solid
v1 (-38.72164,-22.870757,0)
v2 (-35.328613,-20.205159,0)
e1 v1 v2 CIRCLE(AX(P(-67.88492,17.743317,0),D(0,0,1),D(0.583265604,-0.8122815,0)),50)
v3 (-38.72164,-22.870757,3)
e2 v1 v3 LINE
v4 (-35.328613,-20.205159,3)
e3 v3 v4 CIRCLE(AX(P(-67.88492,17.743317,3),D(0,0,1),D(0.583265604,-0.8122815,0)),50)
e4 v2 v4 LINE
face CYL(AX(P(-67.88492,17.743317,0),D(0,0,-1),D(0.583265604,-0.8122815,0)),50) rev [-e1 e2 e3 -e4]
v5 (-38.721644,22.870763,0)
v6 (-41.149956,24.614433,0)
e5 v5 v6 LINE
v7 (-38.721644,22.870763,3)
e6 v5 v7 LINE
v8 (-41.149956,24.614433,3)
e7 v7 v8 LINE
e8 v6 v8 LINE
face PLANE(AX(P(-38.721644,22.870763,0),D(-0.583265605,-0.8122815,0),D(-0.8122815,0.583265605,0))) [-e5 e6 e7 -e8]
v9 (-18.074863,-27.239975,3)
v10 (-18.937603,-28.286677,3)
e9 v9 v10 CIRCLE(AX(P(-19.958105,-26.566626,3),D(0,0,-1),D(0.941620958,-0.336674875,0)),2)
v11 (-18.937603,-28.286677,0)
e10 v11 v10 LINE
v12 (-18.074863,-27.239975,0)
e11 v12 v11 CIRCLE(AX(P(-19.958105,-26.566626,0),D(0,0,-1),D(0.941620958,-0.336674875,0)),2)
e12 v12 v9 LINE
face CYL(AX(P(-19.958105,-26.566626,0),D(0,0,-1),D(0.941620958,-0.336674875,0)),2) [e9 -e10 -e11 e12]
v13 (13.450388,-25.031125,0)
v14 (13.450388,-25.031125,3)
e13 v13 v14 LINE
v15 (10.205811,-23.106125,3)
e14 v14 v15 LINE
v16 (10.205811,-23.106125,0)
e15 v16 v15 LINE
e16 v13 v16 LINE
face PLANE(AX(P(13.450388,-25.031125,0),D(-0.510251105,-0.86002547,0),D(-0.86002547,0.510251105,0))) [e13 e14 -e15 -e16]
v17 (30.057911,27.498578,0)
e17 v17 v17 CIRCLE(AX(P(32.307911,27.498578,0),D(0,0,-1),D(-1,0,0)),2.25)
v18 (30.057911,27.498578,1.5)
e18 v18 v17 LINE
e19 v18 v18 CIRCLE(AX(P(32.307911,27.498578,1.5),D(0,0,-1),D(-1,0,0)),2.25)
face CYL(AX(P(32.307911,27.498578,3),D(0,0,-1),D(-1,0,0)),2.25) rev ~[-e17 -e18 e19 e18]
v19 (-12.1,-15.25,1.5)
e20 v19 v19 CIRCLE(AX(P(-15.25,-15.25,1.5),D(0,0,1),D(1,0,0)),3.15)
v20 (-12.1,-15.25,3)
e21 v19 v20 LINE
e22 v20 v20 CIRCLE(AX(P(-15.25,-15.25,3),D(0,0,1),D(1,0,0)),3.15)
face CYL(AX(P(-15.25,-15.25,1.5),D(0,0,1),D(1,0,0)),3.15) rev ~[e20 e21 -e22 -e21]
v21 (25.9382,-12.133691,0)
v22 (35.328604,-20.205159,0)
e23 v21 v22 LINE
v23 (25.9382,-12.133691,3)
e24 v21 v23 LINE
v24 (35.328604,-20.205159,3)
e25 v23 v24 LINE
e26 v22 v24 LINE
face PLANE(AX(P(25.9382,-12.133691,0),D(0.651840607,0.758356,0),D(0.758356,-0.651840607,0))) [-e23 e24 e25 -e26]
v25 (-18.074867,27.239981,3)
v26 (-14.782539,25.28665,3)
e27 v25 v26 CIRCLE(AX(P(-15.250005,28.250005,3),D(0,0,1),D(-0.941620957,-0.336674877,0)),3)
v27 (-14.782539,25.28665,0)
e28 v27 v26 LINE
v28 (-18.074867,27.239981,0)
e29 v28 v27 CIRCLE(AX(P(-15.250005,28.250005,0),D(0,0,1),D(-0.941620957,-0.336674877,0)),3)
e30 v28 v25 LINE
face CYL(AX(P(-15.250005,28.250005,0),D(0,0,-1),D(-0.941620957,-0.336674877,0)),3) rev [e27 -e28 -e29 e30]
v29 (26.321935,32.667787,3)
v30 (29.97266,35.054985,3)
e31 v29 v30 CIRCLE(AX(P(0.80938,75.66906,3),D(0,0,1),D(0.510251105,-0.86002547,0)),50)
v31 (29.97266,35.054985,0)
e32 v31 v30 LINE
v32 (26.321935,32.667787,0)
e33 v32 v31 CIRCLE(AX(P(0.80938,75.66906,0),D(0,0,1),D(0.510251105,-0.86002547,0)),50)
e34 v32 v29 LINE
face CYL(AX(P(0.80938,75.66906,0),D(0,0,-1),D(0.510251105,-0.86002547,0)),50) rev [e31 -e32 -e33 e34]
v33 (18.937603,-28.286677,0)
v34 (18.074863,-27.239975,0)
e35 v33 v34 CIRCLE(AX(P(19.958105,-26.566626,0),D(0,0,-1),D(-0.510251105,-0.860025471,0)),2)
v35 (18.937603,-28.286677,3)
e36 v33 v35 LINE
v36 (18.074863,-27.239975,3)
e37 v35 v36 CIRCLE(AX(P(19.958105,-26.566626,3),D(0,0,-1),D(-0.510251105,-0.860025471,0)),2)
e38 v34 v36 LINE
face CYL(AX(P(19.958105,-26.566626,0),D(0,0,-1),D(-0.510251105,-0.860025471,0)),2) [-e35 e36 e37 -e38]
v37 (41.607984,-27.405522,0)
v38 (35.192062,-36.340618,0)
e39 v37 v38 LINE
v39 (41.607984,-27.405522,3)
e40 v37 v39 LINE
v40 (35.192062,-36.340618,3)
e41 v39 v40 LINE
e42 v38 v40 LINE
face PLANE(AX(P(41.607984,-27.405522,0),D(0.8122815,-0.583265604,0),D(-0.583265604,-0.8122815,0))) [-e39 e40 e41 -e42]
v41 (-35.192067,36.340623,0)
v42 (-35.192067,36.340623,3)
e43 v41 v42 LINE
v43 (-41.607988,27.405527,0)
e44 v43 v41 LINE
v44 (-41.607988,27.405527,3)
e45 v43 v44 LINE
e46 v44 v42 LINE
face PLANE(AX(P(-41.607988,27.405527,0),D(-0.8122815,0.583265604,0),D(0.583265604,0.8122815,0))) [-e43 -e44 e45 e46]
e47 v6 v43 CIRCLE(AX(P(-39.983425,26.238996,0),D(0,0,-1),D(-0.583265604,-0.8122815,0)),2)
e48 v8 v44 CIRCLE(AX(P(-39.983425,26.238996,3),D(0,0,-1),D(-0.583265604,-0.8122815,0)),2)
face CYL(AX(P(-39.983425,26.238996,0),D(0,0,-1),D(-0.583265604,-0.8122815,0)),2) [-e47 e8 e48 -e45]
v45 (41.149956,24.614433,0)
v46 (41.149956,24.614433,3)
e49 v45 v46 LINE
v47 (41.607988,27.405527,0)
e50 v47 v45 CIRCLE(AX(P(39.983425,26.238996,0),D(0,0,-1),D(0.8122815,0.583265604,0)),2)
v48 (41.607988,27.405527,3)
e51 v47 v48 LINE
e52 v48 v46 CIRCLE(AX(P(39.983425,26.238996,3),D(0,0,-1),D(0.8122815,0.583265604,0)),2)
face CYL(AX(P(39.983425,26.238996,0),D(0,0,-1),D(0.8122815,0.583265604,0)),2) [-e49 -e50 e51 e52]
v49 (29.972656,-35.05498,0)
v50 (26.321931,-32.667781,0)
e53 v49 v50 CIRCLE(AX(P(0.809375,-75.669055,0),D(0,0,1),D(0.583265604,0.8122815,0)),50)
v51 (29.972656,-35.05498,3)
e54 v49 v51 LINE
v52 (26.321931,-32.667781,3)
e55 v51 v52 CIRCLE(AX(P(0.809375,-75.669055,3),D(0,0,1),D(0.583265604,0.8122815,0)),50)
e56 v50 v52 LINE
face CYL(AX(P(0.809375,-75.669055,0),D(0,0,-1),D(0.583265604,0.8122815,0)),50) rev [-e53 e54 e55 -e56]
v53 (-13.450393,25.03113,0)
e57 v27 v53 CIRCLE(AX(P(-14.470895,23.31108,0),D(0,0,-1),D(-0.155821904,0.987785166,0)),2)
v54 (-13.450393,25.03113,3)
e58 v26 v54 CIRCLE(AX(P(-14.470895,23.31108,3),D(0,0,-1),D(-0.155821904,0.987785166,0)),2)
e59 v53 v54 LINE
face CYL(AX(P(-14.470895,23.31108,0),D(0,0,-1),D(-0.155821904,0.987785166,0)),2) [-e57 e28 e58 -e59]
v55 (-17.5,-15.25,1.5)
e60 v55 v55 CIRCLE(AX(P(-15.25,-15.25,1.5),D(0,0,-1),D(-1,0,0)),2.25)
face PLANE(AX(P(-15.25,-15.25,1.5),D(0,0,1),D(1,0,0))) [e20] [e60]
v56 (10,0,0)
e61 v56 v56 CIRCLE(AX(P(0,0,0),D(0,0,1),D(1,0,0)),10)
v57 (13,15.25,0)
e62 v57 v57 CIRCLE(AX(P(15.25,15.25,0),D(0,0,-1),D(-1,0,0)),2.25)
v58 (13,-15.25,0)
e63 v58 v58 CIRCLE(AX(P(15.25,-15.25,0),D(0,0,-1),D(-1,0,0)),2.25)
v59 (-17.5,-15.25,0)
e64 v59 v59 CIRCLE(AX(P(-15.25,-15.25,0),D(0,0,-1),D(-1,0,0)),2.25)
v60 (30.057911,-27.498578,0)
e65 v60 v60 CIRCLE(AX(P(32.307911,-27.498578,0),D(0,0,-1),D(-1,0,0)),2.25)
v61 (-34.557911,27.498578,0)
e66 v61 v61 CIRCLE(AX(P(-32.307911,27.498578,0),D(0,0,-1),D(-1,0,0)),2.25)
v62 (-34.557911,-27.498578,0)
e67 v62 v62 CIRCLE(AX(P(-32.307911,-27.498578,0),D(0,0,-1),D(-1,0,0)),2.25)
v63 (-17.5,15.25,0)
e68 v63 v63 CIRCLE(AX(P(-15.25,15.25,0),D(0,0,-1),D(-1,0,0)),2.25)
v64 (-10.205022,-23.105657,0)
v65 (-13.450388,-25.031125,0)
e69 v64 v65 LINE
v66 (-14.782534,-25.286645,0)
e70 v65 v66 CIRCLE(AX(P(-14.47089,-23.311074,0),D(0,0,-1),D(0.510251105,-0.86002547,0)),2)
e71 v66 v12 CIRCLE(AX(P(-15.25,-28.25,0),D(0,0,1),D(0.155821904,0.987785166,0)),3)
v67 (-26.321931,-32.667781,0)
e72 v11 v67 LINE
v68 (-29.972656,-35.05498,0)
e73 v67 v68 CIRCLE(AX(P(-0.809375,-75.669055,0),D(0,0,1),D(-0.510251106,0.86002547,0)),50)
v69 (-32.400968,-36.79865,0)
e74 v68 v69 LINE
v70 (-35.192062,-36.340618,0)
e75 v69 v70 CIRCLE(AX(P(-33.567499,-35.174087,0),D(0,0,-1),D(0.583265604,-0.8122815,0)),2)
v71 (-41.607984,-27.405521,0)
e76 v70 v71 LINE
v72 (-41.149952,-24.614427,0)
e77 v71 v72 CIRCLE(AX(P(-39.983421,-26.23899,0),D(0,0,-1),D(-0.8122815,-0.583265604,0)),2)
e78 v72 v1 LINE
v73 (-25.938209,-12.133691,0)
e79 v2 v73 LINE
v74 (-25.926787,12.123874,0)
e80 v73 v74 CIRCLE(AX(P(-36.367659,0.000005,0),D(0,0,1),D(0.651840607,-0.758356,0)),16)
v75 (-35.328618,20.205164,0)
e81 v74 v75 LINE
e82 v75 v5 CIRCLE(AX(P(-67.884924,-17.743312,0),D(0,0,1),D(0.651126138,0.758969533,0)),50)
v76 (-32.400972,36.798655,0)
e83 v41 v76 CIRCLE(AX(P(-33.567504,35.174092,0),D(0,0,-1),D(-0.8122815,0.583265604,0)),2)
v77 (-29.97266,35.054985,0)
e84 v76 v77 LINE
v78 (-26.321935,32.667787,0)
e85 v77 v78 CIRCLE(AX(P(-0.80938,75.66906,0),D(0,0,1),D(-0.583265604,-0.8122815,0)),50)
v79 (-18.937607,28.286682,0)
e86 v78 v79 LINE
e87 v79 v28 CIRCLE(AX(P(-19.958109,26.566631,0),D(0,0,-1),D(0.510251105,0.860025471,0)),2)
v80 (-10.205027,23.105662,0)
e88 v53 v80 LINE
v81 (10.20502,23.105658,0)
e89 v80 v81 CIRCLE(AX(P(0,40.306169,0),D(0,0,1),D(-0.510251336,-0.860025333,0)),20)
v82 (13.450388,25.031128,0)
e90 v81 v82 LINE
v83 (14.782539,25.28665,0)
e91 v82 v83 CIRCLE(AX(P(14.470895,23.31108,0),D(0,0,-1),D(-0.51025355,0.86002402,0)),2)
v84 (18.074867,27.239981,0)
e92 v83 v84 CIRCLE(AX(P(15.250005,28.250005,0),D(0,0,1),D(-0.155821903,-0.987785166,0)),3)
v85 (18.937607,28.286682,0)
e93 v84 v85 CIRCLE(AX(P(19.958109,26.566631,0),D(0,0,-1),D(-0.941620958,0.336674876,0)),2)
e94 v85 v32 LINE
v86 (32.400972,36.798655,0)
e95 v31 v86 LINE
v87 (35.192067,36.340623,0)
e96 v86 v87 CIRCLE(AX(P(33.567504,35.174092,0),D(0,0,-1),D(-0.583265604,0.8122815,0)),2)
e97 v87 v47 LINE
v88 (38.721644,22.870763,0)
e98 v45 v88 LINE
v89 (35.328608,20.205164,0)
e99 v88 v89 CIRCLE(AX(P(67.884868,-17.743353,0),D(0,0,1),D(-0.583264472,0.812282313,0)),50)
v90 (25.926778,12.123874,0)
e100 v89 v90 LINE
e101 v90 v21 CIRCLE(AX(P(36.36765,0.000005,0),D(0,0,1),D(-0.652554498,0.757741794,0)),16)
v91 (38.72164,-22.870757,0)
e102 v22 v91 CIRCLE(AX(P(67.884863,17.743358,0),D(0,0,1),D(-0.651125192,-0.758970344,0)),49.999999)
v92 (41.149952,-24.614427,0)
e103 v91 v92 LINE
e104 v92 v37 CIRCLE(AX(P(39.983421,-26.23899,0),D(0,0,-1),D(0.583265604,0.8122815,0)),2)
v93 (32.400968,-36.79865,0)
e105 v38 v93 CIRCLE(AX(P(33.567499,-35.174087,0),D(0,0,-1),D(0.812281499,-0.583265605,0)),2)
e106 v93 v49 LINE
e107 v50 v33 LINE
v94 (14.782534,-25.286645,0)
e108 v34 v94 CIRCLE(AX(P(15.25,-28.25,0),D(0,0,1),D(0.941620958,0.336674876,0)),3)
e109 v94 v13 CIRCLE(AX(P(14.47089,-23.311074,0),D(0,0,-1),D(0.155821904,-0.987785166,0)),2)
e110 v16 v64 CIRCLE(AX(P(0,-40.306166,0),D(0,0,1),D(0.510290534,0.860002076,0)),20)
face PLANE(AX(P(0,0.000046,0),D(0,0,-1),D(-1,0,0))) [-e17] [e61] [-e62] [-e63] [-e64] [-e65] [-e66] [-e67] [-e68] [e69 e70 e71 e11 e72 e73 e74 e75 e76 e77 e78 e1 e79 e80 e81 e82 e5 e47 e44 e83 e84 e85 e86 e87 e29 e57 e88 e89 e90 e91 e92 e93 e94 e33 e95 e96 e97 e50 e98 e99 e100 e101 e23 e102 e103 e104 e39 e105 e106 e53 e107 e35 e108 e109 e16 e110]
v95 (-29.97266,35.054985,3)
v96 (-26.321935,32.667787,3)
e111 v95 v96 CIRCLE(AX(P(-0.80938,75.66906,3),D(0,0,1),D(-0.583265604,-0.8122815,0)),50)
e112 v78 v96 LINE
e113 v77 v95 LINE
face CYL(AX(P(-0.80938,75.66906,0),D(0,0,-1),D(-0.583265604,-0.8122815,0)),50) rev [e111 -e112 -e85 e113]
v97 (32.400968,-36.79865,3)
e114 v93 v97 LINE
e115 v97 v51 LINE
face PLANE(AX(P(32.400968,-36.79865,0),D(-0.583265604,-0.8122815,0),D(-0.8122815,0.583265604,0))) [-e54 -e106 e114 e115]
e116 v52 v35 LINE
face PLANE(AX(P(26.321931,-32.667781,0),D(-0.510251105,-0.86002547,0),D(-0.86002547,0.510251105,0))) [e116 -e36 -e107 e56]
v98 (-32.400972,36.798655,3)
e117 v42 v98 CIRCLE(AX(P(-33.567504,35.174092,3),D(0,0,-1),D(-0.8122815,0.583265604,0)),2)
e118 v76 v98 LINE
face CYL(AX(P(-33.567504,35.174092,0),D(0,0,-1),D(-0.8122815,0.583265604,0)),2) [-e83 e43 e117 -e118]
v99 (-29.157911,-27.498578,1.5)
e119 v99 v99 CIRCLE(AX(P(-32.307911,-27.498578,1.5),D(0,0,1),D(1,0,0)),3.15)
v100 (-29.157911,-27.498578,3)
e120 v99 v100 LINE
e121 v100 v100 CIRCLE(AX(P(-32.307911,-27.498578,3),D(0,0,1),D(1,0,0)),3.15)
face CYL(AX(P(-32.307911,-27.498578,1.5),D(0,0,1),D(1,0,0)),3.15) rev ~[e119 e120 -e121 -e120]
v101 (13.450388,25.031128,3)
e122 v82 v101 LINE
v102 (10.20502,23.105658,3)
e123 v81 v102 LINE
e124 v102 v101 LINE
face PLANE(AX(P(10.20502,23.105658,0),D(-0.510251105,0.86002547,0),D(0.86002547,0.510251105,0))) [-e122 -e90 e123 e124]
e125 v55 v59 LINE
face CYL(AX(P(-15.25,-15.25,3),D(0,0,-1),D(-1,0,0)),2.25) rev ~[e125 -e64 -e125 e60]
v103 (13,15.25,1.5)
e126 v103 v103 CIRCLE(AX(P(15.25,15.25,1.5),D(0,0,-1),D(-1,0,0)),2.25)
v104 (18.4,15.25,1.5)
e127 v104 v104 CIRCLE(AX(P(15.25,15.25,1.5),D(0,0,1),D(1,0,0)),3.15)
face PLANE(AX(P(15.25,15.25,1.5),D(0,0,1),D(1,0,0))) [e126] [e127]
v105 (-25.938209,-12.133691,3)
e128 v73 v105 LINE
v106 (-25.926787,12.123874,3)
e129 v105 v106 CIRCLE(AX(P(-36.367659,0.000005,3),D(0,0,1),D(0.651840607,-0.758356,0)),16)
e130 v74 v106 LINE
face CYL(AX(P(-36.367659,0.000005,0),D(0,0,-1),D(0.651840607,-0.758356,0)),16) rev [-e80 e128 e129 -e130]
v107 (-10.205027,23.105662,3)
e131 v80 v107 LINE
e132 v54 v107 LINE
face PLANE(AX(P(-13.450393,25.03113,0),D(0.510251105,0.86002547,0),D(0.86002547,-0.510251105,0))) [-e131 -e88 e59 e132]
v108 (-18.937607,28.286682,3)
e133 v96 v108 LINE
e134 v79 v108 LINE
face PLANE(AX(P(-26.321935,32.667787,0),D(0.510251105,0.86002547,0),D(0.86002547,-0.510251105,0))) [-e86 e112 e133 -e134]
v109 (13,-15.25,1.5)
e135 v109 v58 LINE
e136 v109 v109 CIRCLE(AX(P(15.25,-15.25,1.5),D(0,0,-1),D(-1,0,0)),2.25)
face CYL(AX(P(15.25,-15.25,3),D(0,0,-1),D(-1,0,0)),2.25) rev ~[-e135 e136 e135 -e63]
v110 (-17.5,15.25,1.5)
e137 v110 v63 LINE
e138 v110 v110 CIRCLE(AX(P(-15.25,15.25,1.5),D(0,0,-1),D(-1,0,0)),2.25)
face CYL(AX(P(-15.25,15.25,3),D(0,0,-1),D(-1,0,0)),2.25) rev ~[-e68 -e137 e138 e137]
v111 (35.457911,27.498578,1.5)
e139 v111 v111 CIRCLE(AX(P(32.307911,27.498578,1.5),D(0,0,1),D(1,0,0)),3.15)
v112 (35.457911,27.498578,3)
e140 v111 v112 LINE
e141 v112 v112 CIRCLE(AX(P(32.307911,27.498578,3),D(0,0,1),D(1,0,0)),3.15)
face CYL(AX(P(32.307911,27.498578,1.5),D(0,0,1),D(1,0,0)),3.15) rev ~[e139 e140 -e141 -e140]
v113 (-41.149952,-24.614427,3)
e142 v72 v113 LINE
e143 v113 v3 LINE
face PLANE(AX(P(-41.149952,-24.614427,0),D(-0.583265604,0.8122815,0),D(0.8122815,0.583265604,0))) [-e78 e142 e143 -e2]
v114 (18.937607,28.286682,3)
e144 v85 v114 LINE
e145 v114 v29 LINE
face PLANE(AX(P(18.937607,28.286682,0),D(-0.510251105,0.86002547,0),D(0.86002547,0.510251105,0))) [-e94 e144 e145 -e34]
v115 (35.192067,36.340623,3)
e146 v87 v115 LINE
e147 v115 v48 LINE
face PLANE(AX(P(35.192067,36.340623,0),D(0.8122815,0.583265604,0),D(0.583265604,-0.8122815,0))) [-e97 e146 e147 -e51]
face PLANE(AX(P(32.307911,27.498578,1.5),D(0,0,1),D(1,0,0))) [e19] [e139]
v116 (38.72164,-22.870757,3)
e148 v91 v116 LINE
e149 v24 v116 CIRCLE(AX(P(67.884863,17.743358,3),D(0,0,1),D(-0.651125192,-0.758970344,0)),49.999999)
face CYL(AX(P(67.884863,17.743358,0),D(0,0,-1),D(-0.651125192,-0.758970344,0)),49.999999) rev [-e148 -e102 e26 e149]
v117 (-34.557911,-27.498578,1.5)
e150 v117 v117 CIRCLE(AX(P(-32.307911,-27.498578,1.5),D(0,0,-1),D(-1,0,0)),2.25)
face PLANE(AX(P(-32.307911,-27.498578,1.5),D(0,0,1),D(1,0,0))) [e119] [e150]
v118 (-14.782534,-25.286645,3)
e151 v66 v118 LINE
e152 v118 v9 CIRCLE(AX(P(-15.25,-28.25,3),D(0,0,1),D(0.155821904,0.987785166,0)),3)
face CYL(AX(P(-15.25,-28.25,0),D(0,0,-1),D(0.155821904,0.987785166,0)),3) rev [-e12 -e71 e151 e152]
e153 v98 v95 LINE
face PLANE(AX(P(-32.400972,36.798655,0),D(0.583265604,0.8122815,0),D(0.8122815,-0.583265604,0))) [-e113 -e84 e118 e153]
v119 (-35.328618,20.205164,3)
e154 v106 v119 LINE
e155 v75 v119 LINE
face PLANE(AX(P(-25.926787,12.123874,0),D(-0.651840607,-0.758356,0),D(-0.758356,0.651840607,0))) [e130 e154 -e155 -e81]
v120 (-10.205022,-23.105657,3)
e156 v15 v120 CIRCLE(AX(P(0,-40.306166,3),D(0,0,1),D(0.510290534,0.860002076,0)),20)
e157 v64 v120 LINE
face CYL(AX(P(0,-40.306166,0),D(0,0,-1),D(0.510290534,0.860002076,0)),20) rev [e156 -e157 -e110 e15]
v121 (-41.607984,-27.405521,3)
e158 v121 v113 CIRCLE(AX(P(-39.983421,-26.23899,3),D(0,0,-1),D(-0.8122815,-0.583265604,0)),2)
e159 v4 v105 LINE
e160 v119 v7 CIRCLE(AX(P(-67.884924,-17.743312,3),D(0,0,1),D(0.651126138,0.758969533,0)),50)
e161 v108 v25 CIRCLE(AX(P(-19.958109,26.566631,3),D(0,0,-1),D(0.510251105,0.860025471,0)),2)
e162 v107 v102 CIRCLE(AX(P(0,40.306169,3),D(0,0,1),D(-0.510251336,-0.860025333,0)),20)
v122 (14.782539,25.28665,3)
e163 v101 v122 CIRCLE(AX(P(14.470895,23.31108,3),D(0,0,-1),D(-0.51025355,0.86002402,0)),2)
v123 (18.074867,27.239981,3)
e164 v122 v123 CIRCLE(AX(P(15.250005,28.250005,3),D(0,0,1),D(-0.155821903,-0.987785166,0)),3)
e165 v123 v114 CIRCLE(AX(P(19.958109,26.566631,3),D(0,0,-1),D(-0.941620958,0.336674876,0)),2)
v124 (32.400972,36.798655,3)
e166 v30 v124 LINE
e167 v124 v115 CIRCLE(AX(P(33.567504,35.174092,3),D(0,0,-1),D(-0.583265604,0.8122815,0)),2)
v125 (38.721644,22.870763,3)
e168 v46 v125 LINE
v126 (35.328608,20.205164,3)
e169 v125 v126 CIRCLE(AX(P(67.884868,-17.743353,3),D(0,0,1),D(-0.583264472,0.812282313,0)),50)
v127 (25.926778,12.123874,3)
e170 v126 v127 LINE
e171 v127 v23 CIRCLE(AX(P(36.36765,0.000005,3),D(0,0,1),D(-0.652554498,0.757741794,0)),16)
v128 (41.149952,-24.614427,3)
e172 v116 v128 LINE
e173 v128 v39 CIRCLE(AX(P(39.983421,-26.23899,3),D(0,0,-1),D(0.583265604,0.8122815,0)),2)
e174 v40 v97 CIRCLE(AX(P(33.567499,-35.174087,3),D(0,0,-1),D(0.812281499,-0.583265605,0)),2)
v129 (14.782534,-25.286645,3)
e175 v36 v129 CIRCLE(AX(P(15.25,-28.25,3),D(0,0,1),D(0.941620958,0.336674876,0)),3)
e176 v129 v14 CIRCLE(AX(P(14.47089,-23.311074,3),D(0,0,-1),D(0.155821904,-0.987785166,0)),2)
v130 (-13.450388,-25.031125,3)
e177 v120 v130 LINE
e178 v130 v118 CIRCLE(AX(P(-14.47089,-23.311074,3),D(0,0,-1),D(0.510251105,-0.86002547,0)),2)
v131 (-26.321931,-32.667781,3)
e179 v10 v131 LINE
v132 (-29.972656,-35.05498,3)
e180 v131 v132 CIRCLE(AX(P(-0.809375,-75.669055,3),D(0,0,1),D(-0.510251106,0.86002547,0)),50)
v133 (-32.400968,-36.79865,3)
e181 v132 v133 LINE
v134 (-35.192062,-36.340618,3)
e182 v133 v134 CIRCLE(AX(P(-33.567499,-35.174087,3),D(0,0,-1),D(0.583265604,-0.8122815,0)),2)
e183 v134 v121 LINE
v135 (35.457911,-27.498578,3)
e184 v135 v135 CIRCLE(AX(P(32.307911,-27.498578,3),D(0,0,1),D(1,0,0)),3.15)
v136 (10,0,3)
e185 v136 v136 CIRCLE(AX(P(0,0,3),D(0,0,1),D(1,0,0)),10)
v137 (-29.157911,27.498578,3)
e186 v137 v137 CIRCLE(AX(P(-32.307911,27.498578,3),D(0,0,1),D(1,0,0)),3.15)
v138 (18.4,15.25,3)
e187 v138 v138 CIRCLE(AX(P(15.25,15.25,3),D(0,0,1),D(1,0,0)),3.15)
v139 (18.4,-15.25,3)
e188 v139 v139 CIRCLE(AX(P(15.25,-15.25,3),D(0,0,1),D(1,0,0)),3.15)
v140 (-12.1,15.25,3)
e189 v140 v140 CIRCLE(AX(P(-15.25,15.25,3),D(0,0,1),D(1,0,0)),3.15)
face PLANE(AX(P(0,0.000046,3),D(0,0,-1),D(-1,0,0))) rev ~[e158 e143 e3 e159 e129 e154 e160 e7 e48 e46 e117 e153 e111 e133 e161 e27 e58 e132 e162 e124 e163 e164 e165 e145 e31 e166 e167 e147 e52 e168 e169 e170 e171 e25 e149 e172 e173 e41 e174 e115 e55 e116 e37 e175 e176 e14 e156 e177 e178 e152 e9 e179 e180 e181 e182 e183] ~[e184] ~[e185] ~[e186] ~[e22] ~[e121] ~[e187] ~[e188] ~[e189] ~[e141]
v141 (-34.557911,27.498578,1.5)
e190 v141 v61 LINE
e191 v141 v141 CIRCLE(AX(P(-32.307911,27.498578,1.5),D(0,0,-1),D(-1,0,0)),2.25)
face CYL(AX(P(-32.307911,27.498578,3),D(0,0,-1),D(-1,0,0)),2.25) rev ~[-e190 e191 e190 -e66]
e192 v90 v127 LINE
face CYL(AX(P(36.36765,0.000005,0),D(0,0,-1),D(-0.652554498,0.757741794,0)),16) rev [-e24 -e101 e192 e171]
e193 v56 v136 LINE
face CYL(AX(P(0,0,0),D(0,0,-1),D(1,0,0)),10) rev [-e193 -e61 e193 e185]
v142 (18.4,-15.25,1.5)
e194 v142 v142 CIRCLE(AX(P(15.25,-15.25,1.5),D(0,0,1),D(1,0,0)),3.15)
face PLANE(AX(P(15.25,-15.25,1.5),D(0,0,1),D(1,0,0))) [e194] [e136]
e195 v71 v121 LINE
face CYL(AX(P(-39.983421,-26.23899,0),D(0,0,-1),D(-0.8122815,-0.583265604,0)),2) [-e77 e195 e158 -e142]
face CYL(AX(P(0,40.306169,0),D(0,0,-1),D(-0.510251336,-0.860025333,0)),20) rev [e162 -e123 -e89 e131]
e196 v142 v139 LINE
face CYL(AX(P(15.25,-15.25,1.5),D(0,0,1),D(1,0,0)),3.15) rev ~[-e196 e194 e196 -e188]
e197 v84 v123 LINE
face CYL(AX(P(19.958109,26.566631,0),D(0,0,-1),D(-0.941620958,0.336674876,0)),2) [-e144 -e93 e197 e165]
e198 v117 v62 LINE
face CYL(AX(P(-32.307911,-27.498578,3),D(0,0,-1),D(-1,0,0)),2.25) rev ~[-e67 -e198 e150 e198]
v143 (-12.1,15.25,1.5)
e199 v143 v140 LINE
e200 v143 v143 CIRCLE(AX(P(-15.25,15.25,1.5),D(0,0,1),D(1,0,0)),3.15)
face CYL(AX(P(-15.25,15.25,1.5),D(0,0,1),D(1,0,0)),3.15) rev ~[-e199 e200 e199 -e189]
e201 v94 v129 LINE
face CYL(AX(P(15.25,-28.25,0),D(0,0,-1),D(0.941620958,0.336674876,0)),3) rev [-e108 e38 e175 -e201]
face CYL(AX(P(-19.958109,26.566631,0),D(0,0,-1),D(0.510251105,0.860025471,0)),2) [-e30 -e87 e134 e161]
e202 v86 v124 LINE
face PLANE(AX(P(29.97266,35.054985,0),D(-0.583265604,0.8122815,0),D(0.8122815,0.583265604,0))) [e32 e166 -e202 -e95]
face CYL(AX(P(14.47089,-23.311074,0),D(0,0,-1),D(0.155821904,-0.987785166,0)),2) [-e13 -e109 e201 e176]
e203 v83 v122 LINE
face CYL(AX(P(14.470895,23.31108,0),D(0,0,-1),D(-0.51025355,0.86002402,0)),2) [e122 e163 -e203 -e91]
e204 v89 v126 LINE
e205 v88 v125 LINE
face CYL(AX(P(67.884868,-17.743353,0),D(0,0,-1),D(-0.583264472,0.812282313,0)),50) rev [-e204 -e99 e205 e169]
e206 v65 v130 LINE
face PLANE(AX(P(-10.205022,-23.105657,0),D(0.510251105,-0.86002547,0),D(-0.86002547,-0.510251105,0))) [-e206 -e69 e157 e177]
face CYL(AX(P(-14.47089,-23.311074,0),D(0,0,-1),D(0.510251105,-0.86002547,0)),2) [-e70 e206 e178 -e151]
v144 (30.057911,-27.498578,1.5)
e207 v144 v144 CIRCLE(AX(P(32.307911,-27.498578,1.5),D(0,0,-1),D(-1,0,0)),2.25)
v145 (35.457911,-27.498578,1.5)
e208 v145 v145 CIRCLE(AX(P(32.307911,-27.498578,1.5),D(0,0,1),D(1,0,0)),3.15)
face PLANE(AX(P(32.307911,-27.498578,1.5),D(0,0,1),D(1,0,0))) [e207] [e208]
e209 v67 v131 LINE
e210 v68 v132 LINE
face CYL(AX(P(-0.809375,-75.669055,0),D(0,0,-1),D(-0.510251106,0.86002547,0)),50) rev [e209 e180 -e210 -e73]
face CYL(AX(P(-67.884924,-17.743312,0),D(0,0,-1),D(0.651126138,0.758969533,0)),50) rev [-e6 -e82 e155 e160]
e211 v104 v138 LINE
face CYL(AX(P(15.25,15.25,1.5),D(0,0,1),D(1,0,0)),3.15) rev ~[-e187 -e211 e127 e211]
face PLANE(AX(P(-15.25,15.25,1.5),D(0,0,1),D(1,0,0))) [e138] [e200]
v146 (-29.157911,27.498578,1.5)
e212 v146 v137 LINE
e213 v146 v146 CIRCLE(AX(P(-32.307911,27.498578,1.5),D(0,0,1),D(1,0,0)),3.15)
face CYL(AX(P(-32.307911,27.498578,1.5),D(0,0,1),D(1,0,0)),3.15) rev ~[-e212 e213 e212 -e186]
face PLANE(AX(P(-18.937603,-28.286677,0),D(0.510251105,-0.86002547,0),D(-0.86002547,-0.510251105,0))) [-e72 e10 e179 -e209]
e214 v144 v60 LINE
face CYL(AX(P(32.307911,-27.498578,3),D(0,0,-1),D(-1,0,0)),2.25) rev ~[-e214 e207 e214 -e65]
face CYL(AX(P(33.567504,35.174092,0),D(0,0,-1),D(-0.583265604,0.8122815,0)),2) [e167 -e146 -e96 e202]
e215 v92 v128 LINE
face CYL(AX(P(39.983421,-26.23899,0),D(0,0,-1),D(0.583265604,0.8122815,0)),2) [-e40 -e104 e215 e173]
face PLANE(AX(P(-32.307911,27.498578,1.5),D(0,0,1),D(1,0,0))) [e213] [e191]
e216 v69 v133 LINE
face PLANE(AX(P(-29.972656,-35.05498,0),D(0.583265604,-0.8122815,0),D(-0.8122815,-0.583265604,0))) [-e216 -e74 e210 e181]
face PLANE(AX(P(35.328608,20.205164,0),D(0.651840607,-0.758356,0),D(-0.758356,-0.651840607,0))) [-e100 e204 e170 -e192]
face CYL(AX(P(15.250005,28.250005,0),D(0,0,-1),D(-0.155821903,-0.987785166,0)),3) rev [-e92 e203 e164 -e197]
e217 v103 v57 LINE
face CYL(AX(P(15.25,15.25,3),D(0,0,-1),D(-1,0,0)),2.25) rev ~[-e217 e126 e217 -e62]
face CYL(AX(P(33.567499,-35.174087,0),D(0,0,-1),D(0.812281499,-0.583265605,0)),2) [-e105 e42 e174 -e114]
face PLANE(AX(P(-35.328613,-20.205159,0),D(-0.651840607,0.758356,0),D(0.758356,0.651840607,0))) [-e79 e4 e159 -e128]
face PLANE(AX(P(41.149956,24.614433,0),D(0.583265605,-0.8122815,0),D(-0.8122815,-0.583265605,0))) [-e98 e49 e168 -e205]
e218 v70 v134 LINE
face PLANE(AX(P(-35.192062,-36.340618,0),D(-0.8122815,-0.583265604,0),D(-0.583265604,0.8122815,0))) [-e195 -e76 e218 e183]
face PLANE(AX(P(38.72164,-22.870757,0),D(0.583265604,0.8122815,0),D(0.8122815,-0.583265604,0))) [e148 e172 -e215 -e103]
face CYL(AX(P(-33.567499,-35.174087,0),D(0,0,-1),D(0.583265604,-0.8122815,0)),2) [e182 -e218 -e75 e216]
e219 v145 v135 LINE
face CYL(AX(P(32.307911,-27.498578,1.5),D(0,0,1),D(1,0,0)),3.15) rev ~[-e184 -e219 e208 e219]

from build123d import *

# Parameters (mm, degrees)
SKETCH2_R                      = 10.000000005
BOSS_EXTRUDE1_DEPTH            = 3
CBORE_FOR_M4_SHCS1_D           = 4.5
CBORE_FOR_M4_SHCS1_DEPTH       = 3
CBORE_FOR_M4_SHCS1_CBORE_D     = 6.3
CBORE_FOR_M4_SHCS1_CBORE_DEPTH = 1.5


with BuildPart() as part:
    # Sketch2 → Boss-Extrude1 (new body)
    with BuildSketch(Plane.XY):
        with BuildLine():
            Line((-13.450392883, 25.031130473), (-10.20502672, 23.105662299))
            ThreePointArc((-10.20502672, 23.105662299), (-3.968e-06, 20.306168967), (10.205019894, 23.105658249))
            Line((10.205019894, 23.105658249), (13.450387996, 25.031127573))
            ThreePointArc((13.450387996, 25.031127573), (14.094139601, 25.275272827), (14.782538902, 25.286649864))
            ThreePointArc((14.782538902, 25.286649864), (16.78075793, 25.669928952), (18.074867487, 27.239980734))
            ThreePointArc((18.074867487, 27.239980734), (18.414792088, 27.838704748), (18.937607191, 28.286681921))
            Line((18.937607191, 28.286681921), (26.321935247, 32.667786531))
            ThreePointArc((26.321935247, 32.667786531), (28.173342154, 33.821556246), (29.972660204, 35.054985063))
            Line((29.972660204, 35.054985063), (32.400972322, 36.798655128))
            ThreePointArc((32.400972322, 36.798655128), (33.891380916, 37.14769377), (35.19206653, 36.340623337))
            Line((35.19206653, 36.340623337), (41.607988179, 27.405526841))
            ThreePointArc((41.607988179, 27.405526841), (41.957026821, 25.915118247), (41.149956388, 24.614432633))
            Line((41.149956388, 24.614432633), (38.721644271, 22.870762568))
            ThreePointArc((38.721644271, 22.870762568), (36.996358641, 21.574581735), (35.32860836, 20.205164245))
            Line((35.32860836, 20.205164245), (25.926777876, 12.123874069))
            ThreePointArc((25.926777876, 12.123874069), (20.367651625, -0.007528621), (25.938200134, -12.133690637))
            Line((25.938200134, -12.133690637), (35.328603735, -20.2051589))
            ThreePointArc((35.328603735, -20.2051589), (36.996354051, -21.574576424), (38.72163972, -22.870757287))
            Line((38.72163972, -22.870757287), (41.149951774, -24.614427306))
            ThreePointArc((41.149951774, -24.614427306), (41.957022207, -25.915112921), (41.607983565, -27.405521515))
            Line((41.607983565, -27.405521515), (35.192061916, -36.340618011))
            ThreePointArc((35.192061916, -36.340618011), (33.891376301, -37.147688443), (32.400967708, -36.798649801))
            Line((32.400967708, -36.798649801), (29.97265559, -35.054979737))
            ThreePointArc((29.97265559, -35.054979737), (28.17333754, -33.82155092), (26.321930633, -32.667781205))
            Line((26.321930633, -32.667781205), (18.937602577, -28.286676595))
            ThreePointArc((18.937602577, -28.286676595), (18.414787474, -27.838699422), (18.074862873, -27.239975407))
            ThreePointArc((18.074862873, -27.239975407), (16.780753316, -25.669923625), (14.782534288, -25.286644538))
            ThreePointArc((14.782534288, -25.286644538), (14.094137778, -25.275268036), (13.450388269, -25.031125147))
            Line((13.450388269, -25.031125147), (10.205810688, -23.106124837))
            ThreePointArc((10.205810688, -23.106124837), (0.000458475, -20.306166365), (-10.205022095, -23.105656954))
            Line((-10.205022095, -23.105656954), (-13.450388259, -25.031125129))
            ThreePointArc((-13.450388259, -25.031125129), (-14.094137767, -25.275268018), (-14.782534277, -25.28664452))
            ThreePointArc((-14.782534277, -25.28664452), (-16.780753305, -25.669923607), (-18.074862862, -27.239975389))
            ThreePointArc((-18.074862862, -27.239975389), (-18.414787463, -27.838699404), (-18.937602566, -28.286676577))
            Line((-18.937602566, -28.286676577), (-26.321930622, -32.667781187))
            ThreePointArc((-26.321930622, -32.667781187), (-28.173337529, -33.821550902), (-29.972655579, -35.054979718))
            Line((-29.972655579, -35.054979718), (-32.400967697, -36.798649783))
            ThreePointArc((-32.400967697, -36.798649783), (-33.891376291, -37.147688425), (-35.192061905, -36.340617993))
            Line((-35.192061905, -36.340617993), (-41.607983554, -27.405521497))
            ThreePointArc((-41.607983554, -27.405521497), (-41.957022196, -25.915112903), (-41.149951763, -24.614427288))
            Line((-41.149951763, -24.614427288), (-38.721639646, -22.870757224))
            ThreePointArc((-38.721639646, -22.870757224), (-36.996358678, -21.574576229), (-35.328612964, -20.2051589))
            Line((-35.328612964, -20.2051589), (-25.938209362, -12.133690637))
            ThreePointArc((-25.938209362, -12.133690637), (-20.367660853, -0.007528621), (-25.926787105, 12.123874069))
            Line((-25.926787105, 12.123874069), (-35.328617589, 20.205164245))
            ThreePointArc((-35.328617589, 20.205164245), (-36.996363303, 21.574581573), (-38.721644271, 22.870762568))
            Line((-38.721644271, 22.870762568), (-41.149956388, 24.614432633))
            ThreePointArc((-41.149956388, 24.614432633), (-41.957026821, 25.915118247), (-41.607988179, 27.405526841))
            Line((-41.607988179, 27.405526841), (-35.19206653, 36.340623337))
            ThreePointArc((-35.19206653, 36.340623337), (-33.891380916, 37.14769377), (-32.400972322, 36.798655128))
            Line((-32.400972322, 36.798655128), (-29.972660204, 35.054985063))
            ThreePointArc((-29.972660204, 35.054985063), (-28.173342154, 33.821556246), (-26.321935247, 32.667786531))
            Line((-26.321935247, 32.667786531), (-18.937607191, 28.286681921))
            ThreePointArc((-18.937607191, 28.286681921), (-18.414792088, 27.838704748), (-18.074867487, 27.239980734))
            ThreePointArc((-18.074867487, 27.239980734), (-16.78075793, 25.669928952), (-14.782538902, 25.286649864))
            ThreePointArc((-14.782538902, 25.286649864), (-14.094142392, 25.275273362), (-13.450392883, 25.031130473))
        make_face()
        Circle(SKETCH2_R, mode=Mode.SUBTRACT)
    extrude(amount=BOSS_EXTRUDE1_DEPTH)

    # CBORE for M4 SHCS1
    with Locations(Plane.XY.offset(3)):
        with Locations((-32.307911482, 27.498577675), (-15.249999989, 15.249999982), (-15.249999998, -15.250000005), (-32.307911482, -27.498577711), (15.249999989, 15.249999982), (32.307911482, 27.498577675), (32.307911482, -27.498577711), (15.249999998, -15.250000005)):
            CounterBoreHole(CBORE_FOR_M4_SHCS1_D / 2, CBORE_FOR_M4_SHCS1_CBORE_D / 2, CBORE_FOR_M4_SHCS1_CBORE_DEPTH, depth=CBORE_FOR_M4_SHCS1_DEPTH)


solid = part.part
